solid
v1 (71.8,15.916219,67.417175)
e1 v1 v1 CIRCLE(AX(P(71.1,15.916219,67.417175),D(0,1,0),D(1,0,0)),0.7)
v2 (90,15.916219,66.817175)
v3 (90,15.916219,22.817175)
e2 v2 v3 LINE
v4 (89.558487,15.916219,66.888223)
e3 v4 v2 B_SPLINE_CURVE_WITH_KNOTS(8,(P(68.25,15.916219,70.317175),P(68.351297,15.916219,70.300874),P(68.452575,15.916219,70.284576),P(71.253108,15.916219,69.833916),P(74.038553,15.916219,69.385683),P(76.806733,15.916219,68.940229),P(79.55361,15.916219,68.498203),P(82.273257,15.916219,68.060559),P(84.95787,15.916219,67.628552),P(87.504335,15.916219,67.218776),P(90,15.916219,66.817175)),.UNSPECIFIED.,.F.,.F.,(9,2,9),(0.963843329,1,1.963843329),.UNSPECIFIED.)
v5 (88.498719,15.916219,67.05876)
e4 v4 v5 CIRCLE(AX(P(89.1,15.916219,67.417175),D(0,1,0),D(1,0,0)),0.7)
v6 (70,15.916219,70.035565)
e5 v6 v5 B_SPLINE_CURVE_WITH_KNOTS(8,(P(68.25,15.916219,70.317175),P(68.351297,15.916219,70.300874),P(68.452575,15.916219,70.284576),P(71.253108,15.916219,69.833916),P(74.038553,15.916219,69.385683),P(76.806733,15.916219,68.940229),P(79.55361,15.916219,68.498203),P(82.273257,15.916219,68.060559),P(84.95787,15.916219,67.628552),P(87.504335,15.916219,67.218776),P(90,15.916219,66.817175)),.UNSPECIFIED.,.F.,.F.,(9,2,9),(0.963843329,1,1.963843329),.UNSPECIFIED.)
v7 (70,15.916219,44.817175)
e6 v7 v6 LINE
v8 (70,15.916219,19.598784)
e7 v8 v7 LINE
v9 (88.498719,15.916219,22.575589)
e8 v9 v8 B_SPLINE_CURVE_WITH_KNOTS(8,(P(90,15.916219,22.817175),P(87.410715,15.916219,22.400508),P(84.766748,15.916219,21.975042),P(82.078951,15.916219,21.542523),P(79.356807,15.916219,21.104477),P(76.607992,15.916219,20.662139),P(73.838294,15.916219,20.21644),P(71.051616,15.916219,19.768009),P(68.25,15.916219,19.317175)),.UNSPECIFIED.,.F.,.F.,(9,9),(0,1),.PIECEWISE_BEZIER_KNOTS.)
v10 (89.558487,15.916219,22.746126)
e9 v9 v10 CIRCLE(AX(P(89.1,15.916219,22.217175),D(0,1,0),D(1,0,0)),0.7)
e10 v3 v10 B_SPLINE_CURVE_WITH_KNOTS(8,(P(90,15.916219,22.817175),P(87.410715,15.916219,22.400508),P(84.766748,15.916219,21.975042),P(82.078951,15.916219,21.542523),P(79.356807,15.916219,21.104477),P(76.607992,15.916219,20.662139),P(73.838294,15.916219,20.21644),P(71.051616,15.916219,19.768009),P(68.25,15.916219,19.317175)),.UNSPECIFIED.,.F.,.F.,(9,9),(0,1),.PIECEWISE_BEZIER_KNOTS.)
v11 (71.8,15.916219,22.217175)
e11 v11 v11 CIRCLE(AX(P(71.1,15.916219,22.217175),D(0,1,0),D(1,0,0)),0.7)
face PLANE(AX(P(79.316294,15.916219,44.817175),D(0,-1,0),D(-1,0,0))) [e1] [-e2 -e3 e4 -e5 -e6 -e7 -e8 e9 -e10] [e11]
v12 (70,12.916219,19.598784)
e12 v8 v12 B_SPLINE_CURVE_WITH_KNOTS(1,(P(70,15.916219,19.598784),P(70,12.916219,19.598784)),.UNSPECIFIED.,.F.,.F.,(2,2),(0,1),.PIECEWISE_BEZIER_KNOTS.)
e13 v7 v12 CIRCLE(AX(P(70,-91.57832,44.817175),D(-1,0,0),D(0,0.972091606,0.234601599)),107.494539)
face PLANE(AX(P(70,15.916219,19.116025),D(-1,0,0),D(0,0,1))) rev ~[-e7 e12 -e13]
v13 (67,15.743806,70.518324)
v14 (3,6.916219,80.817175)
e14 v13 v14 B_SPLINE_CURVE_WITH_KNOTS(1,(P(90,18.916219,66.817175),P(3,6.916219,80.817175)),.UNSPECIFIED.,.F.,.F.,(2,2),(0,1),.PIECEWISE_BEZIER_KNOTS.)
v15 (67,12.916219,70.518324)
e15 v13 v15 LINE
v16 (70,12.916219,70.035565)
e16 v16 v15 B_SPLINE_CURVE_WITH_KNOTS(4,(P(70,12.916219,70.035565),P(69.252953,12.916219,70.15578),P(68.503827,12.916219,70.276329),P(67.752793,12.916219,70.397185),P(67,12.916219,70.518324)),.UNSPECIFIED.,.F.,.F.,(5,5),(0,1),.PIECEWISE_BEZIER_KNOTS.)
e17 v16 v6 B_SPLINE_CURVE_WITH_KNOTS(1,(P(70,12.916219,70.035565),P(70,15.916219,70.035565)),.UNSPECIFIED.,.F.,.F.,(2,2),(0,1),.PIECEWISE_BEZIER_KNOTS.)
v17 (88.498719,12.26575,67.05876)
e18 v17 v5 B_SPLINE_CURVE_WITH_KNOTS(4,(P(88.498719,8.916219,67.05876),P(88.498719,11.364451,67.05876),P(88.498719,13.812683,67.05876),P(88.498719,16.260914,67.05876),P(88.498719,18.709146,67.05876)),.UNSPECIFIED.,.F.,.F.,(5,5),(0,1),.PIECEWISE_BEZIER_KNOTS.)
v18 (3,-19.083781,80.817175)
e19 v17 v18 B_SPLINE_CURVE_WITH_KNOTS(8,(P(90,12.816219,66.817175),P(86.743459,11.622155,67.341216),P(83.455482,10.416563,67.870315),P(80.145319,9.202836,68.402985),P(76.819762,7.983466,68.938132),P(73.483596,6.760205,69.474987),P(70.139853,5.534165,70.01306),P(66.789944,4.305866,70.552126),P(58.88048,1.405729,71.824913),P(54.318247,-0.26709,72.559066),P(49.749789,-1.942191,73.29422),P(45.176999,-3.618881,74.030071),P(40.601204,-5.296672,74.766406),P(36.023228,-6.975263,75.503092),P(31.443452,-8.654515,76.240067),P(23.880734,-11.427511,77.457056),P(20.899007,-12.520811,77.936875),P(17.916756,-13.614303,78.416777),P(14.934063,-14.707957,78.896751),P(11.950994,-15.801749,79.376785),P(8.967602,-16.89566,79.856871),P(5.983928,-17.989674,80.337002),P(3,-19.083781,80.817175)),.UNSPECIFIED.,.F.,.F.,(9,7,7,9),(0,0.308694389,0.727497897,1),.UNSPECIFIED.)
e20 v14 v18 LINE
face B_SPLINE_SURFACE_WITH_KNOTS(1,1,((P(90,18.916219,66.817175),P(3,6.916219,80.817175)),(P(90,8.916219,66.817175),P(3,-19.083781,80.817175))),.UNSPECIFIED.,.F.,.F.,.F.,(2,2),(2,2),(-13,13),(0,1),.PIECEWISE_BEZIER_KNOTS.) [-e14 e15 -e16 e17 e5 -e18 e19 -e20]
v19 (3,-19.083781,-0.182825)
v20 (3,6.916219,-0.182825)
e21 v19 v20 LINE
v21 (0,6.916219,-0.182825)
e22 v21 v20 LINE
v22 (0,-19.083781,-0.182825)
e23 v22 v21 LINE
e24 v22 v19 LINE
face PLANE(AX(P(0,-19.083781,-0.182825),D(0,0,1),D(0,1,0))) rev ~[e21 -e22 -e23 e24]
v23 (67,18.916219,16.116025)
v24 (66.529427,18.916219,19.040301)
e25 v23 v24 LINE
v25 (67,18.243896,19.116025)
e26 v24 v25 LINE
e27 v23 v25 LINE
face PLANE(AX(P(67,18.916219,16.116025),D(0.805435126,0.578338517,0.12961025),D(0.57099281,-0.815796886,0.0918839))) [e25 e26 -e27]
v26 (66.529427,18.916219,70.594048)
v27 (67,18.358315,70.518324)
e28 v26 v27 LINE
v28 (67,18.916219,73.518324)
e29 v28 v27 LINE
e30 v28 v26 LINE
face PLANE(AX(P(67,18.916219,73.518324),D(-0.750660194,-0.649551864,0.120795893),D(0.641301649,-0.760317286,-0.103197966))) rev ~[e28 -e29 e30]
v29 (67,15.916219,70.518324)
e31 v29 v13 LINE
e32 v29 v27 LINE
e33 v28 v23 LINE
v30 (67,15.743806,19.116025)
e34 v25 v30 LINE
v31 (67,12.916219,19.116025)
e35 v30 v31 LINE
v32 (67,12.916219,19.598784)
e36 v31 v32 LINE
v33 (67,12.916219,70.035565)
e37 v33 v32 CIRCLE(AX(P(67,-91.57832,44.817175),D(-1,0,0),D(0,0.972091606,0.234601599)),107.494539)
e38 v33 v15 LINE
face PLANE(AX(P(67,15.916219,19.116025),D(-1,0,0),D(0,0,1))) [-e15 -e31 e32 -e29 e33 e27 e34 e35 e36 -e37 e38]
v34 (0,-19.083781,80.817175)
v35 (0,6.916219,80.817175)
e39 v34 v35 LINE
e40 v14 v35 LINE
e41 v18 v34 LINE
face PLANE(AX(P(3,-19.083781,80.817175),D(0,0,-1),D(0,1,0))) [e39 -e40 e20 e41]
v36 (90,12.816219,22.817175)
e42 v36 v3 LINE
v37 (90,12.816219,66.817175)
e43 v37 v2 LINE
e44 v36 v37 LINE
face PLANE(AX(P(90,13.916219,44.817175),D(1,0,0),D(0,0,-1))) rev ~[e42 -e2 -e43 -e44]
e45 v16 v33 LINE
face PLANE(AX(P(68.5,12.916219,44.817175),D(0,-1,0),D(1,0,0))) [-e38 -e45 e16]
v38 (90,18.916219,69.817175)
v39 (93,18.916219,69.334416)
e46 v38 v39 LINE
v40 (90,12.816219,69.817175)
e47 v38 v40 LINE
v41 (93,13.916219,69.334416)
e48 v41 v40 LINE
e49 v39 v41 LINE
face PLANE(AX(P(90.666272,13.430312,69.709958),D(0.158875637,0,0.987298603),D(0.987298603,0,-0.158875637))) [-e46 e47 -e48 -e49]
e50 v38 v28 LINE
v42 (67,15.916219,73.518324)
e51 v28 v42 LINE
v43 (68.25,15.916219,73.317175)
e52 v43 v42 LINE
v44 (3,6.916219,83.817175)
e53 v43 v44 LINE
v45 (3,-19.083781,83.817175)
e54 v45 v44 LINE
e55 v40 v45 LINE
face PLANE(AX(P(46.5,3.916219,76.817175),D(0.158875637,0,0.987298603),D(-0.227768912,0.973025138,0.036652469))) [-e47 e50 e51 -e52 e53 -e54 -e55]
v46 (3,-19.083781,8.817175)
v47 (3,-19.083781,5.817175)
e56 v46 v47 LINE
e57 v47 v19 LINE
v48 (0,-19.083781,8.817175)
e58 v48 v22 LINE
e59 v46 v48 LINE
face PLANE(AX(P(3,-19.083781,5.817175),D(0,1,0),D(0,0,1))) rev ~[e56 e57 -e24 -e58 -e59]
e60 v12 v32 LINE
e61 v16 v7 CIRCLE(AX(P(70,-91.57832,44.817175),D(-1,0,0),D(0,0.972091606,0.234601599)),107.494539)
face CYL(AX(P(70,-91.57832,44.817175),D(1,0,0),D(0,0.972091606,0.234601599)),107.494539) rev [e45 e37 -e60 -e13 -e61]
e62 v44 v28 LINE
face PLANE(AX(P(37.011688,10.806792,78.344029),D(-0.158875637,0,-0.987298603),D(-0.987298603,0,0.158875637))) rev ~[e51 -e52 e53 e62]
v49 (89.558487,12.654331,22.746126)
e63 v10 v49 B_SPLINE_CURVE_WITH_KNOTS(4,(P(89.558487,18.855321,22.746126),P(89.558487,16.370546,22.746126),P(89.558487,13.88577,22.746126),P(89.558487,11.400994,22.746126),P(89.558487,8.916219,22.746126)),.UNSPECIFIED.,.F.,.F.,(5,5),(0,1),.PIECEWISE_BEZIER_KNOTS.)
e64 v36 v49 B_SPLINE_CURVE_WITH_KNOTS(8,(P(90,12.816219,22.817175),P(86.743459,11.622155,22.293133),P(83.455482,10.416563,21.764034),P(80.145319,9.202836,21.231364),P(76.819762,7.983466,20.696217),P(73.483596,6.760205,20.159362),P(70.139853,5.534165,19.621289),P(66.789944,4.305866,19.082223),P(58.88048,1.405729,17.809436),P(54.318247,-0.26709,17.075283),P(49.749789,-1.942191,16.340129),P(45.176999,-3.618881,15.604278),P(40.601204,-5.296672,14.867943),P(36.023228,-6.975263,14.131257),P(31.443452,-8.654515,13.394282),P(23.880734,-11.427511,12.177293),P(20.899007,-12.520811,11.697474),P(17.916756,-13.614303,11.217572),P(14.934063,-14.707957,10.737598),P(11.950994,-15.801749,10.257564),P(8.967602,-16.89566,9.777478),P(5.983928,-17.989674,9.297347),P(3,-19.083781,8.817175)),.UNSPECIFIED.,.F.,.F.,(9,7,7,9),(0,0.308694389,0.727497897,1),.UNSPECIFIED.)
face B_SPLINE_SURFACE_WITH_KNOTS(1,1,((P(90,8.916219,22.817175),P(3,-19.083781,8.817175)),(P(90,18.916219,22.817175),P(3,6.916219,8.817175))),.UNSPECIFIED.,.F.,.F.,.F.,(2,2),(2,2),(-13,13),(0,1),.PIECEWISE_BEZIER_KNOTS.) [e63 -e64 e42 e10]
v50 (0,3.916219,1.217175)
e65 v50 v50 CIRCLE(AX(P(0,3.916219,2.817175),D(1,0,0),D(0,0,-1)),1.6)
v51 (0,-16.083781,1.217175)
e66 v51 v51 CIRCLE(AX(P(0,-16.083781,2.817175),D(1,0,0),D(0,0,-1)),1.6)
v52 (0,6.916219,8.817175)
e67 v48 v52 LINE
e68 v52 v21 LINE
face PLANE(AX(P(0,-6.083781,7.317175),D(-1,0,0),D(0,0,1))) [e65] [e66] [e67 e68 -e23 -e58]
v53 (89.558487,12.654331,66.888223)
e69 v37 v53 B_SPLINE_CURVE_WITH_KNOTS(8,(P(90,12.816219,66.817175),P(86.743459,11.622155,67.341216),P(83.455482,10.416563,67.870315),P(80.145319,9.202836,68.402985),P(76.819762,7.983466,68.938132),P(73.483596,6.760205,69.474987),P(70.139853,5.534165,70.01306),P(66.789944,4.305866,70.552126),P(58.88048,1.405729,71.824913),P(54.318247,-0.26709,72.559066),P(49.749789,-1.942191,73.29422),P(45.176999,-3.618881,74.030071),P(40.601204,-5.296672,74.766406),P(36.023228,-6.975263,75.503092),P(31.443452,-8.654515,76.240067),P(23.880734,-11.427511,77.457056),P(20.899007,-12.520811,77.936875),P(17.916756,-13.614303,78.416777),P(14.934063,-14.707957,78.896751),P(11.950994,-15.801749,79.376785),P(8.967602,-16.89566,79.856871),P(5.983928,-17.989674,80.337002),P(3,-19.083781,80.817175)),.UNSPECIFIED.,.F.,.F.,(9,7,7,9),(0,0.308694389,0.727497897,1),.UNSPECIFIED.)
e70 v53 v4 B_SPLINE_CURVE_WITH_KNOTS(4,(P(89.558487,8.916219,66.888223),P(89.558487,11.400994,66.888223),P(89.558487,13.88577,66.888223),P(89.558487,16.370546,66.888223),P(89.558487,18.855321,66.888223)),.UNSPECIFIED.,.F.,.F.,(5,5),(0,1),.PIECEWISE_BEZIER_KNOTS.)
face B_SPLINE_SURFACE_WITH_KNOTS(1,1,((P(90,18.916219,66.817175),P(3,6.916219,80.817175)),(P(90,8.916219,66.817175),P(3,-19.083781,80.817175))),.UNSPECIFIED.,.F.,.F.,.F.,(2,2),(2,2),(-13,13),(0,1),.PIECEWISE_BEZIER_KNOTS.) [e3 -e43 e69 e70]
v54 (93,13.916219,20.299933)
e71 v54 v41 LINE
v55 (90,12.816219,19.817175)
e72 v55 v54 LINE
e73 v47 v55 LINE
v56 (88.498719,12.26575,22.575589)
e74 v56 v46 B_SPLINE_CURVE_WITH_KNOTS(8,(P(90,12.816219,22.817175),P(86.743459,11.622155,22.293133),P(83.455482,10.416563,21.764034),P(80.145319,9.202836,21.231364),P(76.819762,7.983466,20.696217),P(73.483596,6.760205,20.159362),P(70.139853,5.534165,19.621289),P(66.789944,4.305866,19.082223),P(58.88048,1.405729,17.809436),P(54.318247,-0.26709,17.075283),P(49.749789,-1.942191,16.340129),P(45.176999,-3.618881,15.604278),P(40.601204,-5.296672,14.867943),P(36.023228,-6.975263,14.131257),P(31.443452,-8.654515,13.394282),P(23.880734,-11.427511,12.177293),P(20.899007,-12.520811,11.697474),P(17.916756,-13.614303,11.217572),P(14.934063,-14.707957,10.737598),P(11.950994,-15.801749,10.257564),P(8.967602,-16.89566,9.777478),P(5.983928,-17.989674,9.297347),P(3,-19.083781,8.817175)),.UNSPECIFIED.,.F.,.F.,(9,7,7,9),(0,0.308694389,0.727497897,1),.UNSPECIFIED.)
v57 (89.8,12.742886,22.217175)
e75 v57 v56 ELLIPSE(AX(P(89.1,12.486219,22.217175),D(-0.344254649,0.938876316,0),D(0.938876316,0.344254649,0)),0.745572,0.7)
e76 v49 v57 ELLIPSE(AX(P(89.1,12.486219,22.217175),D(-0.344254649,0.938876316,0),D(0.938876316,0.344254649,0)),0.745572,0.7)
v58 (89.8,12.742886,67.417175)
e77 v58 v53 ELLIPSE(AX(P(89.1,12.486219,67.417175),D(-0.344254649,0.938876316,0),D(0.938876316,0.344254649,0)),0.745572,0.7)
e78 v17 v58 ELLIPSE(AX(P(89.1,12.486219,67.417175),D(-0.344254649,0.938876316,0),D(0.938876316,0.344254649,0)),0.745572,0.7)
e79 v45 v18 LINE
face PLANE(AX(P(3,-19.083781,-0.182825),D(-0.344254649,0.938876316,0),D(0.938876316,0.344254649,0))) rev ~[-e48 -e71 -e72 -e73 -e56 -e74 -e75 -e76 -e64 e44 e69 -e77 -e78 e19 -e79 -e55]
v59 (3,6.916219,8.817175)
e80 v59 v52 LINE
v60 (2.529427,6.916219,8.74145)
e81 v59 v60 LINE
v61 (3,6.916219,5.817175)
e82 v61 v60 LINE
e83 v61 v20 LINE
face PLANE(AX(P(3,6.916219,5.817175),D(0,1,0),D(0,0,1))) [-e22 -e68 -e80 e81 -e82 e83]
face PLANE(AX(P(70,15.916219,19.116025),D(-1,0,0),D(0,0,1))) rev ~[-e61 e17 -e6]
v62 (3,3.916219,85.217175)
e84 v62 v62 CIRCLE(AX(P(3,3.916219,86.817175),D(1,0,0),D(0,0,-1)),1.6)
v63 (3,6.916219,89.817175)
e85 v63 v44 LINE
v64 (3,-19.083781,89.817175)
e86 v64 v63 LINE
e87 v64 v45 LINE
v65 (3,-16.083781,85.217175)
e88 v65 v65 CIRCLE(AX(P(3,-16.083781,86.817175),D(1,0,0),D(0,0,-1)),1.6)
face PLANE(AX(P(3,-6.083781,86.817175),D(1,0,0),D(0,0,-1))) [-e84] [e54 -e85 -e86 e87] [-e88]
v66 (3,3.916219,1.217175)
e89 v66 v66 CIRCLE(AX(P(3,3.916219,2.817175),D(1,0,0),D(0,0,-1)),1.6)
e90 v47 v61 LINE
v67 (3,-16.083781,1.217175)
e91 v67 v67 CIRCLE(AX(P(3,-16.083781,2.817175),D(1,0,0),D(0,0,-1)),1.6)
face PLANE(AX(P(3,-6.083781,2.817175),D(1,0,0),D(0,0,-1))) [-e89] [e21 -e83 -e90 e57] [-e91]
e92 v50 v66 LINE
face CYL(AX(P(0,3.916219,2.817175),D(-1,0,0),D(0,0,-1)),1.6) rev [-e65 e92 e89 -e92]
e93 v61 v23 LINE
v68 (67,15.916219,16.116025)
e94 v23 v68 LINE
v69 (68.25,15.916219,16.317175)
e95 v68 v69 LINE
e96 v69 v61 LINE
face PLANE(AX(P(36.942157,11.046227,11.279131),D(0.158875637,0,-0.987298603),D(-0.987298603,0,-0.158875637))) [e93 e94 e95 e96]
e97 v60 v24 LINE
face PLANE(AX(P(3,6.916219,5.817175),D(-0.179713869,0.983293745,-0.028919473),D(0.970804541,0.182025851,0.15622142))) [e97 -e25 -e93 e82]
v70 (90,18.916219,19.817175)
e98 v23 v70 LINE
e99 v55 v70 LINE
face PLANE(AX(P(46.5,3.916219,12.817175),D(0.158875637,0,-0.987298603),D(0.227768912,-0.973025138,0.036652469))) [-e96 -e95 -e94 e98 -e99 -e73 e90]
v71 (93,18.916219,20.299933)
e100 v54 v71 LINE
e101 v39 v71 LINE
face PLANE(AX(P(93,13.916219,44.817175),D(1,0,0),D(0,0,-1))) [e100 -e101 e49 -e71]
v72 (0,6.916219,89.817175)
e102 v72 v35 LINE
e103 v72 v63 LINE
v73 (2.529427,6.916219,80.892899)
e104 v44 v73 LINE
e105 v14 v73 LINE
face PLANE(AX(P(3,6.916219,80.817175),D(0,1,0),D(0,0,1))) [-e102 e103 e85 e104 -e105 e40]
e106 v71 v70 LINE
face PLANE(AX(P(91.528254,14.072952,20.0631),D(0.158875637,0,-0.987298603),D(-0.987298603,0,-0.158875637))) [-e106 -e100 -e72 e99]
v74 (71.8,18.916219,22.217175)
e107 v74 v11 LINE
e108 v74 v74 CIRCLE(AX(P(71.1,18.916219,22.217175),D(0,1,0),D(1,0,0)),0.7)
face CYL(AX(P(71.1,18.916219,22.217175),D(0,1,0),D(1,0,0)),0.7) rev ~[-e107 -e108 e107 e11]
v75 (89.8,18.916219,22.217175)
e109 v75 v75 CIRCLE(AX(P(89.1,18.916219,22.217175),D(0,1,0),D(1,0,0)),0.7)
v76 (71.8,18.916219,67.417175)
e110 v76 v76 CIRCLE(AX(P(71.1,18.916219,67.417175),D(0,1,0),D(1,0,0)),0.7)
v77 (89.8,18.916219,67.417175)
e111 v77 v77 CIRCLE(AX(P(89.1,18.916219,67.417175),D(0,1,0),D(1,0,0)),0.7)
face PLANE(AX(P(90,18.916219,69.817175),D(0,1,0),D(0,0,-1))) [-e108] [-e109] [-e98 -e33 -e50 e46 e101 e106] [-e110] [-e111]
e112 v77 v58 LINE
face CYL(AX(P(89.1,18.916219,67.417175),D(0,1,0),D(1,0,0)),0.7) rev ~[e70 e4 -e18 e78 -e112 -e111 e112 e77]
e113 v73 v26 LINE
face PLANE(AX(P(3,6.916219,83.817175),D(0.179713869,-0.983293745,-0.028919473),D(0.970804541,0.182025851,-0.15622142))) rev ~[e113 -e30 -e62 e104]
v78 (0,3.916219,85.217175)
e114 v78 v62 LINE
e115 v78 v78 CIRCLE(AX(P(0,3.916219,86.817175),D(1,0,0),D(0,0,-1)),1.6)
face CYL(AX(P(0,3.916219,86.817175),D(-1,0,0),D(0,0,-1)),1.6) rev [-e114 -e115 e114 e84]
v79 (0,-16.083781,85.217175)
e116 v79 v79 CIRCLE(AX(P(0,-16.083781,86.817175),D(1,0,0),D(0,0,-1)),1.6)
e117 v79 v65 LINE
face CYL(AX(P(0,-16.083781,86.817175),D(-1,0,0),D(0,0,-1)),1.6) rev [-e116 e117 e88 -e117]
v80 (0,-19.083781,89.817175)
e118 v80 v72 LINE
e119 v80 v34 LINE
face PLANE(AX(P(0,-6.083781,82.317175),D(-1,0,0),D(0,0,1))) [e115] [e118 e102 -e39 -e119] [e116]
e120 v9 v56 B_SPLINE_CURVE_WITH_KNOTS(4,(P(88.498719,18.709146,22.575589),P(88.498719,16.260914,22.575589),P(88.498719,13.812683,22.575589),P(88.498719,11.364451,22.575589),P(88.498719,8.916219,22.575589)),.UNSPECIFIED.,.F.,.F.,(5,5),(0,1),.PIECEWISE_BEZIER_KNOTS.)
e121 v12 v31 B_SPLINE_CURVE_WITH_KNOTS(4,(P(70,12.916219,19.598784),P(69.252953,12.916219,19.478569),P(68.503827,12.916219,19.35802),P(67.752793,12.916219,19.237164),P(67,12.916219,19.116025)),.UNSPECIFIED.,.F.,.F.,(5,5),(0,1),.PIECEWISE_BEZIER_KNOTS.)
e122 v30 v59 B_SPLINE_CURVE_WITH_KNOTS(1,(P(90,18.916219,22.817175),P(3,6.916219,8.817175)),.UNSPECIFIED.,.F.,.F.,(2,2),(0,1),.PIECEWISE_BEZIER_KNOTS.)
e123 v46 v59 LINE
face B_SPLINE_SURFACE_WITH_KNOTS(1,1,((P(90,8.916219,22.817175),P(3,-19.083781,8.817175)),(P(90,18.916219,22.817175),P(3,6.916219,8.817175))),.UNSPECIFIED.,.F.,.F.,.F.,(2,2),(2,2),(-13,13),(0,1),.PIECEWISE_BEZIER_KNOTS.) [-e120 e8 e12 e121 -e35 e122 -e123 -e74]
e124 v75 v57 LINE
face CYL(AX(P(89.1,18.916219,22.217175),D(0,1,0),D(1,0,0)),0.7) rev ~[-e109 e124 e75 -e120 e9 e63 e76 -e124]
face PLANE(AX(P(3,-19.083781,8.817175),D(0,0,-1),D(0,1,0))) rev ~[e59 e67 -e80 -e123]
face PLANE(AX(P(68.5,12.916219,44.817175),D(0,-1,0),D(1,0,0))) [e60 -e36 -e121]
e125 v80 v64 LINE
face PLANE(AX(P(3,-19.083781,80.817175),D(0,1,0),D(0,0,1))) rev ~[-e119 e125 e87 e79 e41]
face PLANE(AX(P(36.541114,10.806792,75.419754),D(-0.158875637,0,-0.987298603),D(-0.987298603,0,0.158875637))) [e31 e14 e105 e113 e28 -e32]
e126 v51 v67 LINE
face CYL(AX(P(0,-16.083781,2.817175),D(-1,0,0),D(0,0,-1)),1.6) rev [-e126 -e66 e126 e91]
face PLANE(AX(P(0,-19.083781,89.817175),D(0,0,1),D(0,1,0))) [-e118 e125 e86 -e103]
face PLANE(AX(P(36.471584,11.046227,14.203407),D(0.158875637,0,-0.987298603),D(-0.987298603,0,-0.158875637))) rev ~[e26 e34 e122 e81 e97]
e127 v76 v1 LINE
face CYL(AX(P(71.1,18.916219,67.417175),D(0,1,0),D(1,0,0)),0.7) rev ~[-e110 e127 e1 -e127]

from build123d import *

# Parameters (mm, degrees)
SKETCH_1_W          = 6
SKETCH_1_H          = 26
SKETCH_1_R          = 1.6
EXTRUDE_1_DEPTH     = 3
EXTRUDE_1_2_DEPTH   = 3
SKETCH_11_W         = 3
SKETCH_11_H         = 10
SKETCH_10_W         = 3
SKETCH_10_H         = 26
SKETCH_13_W         = 3
SKETCH_13_H         = 10
SKETCH_12_W         = 3
SKETCH_12_H         = 26
SKETCH_14_W         = 50
SKETCH_14_H         = 10
EXTRUDE_4_DEPTH     = 3
SKETCH_15_W         = 19.024799208
SKETCH_15_H         = 22.305451654
CUT_EXTRUDE_2_DEPTH = 3
SKETCH_16_W         = 14.351226191
SKETCH_16_H         = 17.437681629
CUT_EXTRUDE_3_DEPTH = 3
SKETCH_17_W         = 3
SKETCH_17_H         = 26
EXTRUDE_5_DEPTH     = 3
EXTRUDE_6_DEPTH     = 3
EXTRUDE_10_DEPTH    = 2.961896
EXTRUDE_11_DEPTH    = 2.961896
CUT_EXTRUDE_4_DEPTH = 100
SKETCH_22_W         = 3
SKETCH_22_H         = 51.402298851
EXTRUDE_12_DEPTH    = 3
CUT_EXTRUDE_5_DEPTH = 3
SKETCH_24_R         = 0.7
CUT_EXTRUDE_6_DEPTH = 10


with BuildPart() as part:
    # 草图1 → 凸台-拉伸1 (new body)
    with BuildSketch(Plane(origin=(0, 0, 0), x_dir=(0, 0, -1), z_dir=(1, 0, 0))):
        with Locations((-2.817174515, -6.083780501)):
            Rectangle(SKETCH_1_W, SKETCH_1_H)
        with Locations((-2.817174515, -16.083780501)):
            Circle(SKETCH_1_R, mode=Mode.SUBTRACT)
        with Locations((-2.817174515, 3.916219499)):
            Circle(SKETCH_1_R, mode=Mode.SUBTRACT)
    extrude(amount=EXTRUDE_1_DEPTH)



with BuildPart() as body_2:
    # 草图1 → Extrude 1 2 (new body)
    with BuildSketch(Plane(origin=(0, 0, 0), x_dir=(0, 0, -1), z_dir=(1, 0, 0))):
        with Locations((-86.817174515, -6.083780501)):
            Rectangle(SKETCH_1_W, SKETCH_1_H)
        with Locations((-86.817174515, -16.083780501)):
            Circle(SKETCH_1_R, mode=Mode.SUBTRACT)
        with Locations((-86.817174515, 3.916219499)):
            Circle(SKETCH_1_R, mode=Mode.SUBTRACT)
    extrude(amount=EXTRUDE_1_2_DEPTH)


with BuildPart() as body_3:
    # 草图11 → 放样4 section 0
    with BuildSketch(Plane.ZY.offset(-90)):
        with Locations((21.317174515, 13.916219499)):
            Rectangle(SKETCH_11_W, SKETCH_11_H)
    # 草图10 → 放样4 section 1
    with BuildSketch(Plane(origin=(3, 0, 0), x_dir=(0, 0, -1), z_dir=(1, 0, 0))):
        with Locations((-7.317174515, -6.083780501)):
            Rectangle(SKETCH_10_W, SKETCH_10_H)
    loft()



with BuildPart() as body_4:
    # 草图13 → 放样5 section 0
    with BuildSketch(Plane.ZY.offset(-90)):
        with Locations((68.317174515, 13.916219499)):
            Rectangle(SKETCH_13_W, SKETCH_13_H)
    # 草图12 → 放样5 section 1
    with BuildSketch(Plane(origin=(3, 0, 0), x_dir=(0, 0, -1), z_dir=(1, 0, 0))):
        with Locations((-82.317174515, -6.083780501)):
            Rectangle(SKETCH_12_W, SKETCH_12_H)
    loft()


with BuildPart() as body_3_1:
    add(body_3.part)

    add(body_4.part)  # 凸台-拉伸4 merges body 4
    # 草图14 → 凸台-拉伸4 (add)
    with BuildSketch(Plane(origin=(90, 0, 0), x_dir=(0, 0, -1), z_dir=(1, 0, 0))):
        with Locations((-44.817174515, 13.916219499)):
            Rectangle(SKETCH_14_W, SKETCH_14_H)
    extrude(amount=EXTRUDE_4_DEPTH)

    # 草图15 → 切除-拉伸2 (cut)
    with BuildSketch(Plane(origin=(13.223093182, 0, 82.172079061), x_dir=(0.987298603, 0, -0.158875637), z_dir=(0.158875637, 0, 0.987298603))):
        with Locations((78.439469875, 13.430311671)):
            Rectangle(SKETCH_15_W, SKETCH_15_H)
    extrude(amount=CUT_EXTRUDE_2_DEPTH, mode=Mode.SUBTRACT)

    # 草图16 → 切除-拉伸3 (cut)
    with BuildSketch(Plane(origin=(-0.83674418, 0, 5.199767406), x_dir=(-0.987298603, 0, -0.158875637), z_dir=(0.158875637, 0, -0.987298603))):
        with Locations((-93.553254701, 14.072952005)):
            Rectangle(SKETCH_16_W, SKETCH_16_H)
    extrude(amount=CUT_EXTRUDE_3_DEPTH, mode=Mode.SUBTRACT)


with BuildPart() as part_1:
    add(part.part)

    add(body_2.part)  # 凸台-拉伸5 merges body 2

    add(body_3_1.part)  # 凸台-拉伸5 merges body 3
    # 草图17 → 凸台-拉伸5 (add)
    with BuildSketch(Plane.ZY.offset(-3)):
        with Locations((7.317174515, -6.083780501)):
            Rectangle(SKETCH_17_W, SKETCH_17_H)
        with Locations((82.317174515, -6.083780501)):
            Rectangle(SKETCH_17_W, SKETCH_17_H)
    extrude(amount=EXTRUDE_5_DEPTH)

    # 草图18 → 凸台-拉伸6 (add)
    with BuildSketch(Plane(origin=(0, 18.916219499, 0), x_dir=(1, 0, 0), z_dir=(0, 1, 0))):
        Polygon((93, -69.334415895), (67, -73.518323941), (67, -16.11602509), (93, -20.299933136), align=None)
    extrude(amount=-EXTRUDE_6_DEPTH)

    # 草图19 → 凸台-拉伸10 (add)
    with BuildSketch(Plane(origin=(13.223093182, 0, 82.172079061), x_dir=(0.987298603, 0, -0.158875637), z_dir=(0.158875637, 0, 0.987298603))):
        Polygon((-10.354611208, 6.916219499), (54.468735845, 18.916219499), (57.643062592, 15.200587801), (10.872988387, 4.084352126), align=None)
    extrude(amount=-EXTRUDE_10_DEPTH)

    # 草图20 → 凸台-拉伸11 (add)
    with BuildSketch(Plane(origin=(-0.83674418, 0, 5.199767406), x_dir=(-0.987298603, 0, -0.158875637), z_dir=(0.158875637, 0, -0.987298603))):
        Polygon((-3.886103118, 6.916219499), (-68.709450171, 18.916219499), (-71.52946793, 14.93833866), (-30.165426117, 5.801086138), align=None)
    extrude(amount=-EXTRUDE_11_DEPTH)

    # 草图21 → 切除-拉伸4 (cut)
    with BuildSketch(Plane(origin=(0, 0, -0.182825485), x_dir=(-1, 0, 0), z_dir=(0, 0, -1))):
        Polygon((-3, -19.083780501), (-93, 13.916219499), (-93, 8.916219499), align=None)
    extrude(amount=-CUT_EXTRUDE_4_DEPTH, mode=Mode.SUBTRACT)

    # 草图22 → 凸台-拉伸12 (add)
    with BuildSketch(Plane.XZ.offset(-15.916219499)):
        with Locations((68.5, 44.817174515)):
            Rectangle(SKETCH_22_W, SKETCH_22_H)
    extrude(amount=EXTRUDE_12_DEPTH)

    # 草图23 → 切除-拉伸5 (cut)
    with BuildSketch(Plane(origin=(70, 0, 0), x_dir=(0, 0, -1), z_dir=(1, 0, 0))):
        with BuildLine():
            Line((-19.598783711, 12.916219499), (-70.03556532, 12.916219499))
            ThreePointArc((-70.03556532, 12.916219499), (-44.817174515, 15.916219499), (-19.598783711, 12.916219499))
        make_face()
    extrude(amount=-CUT_EXTRUDE_5_DEPTH, mode=Mode.SUBTRACT)

    # 草图24 → 切除-拉伸6 (cut)
    with BuildSketch(Plane(origin=(0, 18.916219499, 0), x_dir=(1, 0, 0), z_dir=(0, 1, 0))):
        with Locations((89.1, -67.417174515)):
            Circle(SKETCH_24_R)
        with Locations((71.1, -67.417174515)):
            Circle(SKETCH_24_R)
        with Locations((71.1, -22.217174515)):
            Circle(SKETCH_24_R)
        with Locations((89.1, -22.217174515)):
            Circle(SKETCH_24_R)
    extrude(amount=-CUT_EXTRUDE_6_DEPTH, mode=Mode.SUBTRACT)


solid = part_1.part
